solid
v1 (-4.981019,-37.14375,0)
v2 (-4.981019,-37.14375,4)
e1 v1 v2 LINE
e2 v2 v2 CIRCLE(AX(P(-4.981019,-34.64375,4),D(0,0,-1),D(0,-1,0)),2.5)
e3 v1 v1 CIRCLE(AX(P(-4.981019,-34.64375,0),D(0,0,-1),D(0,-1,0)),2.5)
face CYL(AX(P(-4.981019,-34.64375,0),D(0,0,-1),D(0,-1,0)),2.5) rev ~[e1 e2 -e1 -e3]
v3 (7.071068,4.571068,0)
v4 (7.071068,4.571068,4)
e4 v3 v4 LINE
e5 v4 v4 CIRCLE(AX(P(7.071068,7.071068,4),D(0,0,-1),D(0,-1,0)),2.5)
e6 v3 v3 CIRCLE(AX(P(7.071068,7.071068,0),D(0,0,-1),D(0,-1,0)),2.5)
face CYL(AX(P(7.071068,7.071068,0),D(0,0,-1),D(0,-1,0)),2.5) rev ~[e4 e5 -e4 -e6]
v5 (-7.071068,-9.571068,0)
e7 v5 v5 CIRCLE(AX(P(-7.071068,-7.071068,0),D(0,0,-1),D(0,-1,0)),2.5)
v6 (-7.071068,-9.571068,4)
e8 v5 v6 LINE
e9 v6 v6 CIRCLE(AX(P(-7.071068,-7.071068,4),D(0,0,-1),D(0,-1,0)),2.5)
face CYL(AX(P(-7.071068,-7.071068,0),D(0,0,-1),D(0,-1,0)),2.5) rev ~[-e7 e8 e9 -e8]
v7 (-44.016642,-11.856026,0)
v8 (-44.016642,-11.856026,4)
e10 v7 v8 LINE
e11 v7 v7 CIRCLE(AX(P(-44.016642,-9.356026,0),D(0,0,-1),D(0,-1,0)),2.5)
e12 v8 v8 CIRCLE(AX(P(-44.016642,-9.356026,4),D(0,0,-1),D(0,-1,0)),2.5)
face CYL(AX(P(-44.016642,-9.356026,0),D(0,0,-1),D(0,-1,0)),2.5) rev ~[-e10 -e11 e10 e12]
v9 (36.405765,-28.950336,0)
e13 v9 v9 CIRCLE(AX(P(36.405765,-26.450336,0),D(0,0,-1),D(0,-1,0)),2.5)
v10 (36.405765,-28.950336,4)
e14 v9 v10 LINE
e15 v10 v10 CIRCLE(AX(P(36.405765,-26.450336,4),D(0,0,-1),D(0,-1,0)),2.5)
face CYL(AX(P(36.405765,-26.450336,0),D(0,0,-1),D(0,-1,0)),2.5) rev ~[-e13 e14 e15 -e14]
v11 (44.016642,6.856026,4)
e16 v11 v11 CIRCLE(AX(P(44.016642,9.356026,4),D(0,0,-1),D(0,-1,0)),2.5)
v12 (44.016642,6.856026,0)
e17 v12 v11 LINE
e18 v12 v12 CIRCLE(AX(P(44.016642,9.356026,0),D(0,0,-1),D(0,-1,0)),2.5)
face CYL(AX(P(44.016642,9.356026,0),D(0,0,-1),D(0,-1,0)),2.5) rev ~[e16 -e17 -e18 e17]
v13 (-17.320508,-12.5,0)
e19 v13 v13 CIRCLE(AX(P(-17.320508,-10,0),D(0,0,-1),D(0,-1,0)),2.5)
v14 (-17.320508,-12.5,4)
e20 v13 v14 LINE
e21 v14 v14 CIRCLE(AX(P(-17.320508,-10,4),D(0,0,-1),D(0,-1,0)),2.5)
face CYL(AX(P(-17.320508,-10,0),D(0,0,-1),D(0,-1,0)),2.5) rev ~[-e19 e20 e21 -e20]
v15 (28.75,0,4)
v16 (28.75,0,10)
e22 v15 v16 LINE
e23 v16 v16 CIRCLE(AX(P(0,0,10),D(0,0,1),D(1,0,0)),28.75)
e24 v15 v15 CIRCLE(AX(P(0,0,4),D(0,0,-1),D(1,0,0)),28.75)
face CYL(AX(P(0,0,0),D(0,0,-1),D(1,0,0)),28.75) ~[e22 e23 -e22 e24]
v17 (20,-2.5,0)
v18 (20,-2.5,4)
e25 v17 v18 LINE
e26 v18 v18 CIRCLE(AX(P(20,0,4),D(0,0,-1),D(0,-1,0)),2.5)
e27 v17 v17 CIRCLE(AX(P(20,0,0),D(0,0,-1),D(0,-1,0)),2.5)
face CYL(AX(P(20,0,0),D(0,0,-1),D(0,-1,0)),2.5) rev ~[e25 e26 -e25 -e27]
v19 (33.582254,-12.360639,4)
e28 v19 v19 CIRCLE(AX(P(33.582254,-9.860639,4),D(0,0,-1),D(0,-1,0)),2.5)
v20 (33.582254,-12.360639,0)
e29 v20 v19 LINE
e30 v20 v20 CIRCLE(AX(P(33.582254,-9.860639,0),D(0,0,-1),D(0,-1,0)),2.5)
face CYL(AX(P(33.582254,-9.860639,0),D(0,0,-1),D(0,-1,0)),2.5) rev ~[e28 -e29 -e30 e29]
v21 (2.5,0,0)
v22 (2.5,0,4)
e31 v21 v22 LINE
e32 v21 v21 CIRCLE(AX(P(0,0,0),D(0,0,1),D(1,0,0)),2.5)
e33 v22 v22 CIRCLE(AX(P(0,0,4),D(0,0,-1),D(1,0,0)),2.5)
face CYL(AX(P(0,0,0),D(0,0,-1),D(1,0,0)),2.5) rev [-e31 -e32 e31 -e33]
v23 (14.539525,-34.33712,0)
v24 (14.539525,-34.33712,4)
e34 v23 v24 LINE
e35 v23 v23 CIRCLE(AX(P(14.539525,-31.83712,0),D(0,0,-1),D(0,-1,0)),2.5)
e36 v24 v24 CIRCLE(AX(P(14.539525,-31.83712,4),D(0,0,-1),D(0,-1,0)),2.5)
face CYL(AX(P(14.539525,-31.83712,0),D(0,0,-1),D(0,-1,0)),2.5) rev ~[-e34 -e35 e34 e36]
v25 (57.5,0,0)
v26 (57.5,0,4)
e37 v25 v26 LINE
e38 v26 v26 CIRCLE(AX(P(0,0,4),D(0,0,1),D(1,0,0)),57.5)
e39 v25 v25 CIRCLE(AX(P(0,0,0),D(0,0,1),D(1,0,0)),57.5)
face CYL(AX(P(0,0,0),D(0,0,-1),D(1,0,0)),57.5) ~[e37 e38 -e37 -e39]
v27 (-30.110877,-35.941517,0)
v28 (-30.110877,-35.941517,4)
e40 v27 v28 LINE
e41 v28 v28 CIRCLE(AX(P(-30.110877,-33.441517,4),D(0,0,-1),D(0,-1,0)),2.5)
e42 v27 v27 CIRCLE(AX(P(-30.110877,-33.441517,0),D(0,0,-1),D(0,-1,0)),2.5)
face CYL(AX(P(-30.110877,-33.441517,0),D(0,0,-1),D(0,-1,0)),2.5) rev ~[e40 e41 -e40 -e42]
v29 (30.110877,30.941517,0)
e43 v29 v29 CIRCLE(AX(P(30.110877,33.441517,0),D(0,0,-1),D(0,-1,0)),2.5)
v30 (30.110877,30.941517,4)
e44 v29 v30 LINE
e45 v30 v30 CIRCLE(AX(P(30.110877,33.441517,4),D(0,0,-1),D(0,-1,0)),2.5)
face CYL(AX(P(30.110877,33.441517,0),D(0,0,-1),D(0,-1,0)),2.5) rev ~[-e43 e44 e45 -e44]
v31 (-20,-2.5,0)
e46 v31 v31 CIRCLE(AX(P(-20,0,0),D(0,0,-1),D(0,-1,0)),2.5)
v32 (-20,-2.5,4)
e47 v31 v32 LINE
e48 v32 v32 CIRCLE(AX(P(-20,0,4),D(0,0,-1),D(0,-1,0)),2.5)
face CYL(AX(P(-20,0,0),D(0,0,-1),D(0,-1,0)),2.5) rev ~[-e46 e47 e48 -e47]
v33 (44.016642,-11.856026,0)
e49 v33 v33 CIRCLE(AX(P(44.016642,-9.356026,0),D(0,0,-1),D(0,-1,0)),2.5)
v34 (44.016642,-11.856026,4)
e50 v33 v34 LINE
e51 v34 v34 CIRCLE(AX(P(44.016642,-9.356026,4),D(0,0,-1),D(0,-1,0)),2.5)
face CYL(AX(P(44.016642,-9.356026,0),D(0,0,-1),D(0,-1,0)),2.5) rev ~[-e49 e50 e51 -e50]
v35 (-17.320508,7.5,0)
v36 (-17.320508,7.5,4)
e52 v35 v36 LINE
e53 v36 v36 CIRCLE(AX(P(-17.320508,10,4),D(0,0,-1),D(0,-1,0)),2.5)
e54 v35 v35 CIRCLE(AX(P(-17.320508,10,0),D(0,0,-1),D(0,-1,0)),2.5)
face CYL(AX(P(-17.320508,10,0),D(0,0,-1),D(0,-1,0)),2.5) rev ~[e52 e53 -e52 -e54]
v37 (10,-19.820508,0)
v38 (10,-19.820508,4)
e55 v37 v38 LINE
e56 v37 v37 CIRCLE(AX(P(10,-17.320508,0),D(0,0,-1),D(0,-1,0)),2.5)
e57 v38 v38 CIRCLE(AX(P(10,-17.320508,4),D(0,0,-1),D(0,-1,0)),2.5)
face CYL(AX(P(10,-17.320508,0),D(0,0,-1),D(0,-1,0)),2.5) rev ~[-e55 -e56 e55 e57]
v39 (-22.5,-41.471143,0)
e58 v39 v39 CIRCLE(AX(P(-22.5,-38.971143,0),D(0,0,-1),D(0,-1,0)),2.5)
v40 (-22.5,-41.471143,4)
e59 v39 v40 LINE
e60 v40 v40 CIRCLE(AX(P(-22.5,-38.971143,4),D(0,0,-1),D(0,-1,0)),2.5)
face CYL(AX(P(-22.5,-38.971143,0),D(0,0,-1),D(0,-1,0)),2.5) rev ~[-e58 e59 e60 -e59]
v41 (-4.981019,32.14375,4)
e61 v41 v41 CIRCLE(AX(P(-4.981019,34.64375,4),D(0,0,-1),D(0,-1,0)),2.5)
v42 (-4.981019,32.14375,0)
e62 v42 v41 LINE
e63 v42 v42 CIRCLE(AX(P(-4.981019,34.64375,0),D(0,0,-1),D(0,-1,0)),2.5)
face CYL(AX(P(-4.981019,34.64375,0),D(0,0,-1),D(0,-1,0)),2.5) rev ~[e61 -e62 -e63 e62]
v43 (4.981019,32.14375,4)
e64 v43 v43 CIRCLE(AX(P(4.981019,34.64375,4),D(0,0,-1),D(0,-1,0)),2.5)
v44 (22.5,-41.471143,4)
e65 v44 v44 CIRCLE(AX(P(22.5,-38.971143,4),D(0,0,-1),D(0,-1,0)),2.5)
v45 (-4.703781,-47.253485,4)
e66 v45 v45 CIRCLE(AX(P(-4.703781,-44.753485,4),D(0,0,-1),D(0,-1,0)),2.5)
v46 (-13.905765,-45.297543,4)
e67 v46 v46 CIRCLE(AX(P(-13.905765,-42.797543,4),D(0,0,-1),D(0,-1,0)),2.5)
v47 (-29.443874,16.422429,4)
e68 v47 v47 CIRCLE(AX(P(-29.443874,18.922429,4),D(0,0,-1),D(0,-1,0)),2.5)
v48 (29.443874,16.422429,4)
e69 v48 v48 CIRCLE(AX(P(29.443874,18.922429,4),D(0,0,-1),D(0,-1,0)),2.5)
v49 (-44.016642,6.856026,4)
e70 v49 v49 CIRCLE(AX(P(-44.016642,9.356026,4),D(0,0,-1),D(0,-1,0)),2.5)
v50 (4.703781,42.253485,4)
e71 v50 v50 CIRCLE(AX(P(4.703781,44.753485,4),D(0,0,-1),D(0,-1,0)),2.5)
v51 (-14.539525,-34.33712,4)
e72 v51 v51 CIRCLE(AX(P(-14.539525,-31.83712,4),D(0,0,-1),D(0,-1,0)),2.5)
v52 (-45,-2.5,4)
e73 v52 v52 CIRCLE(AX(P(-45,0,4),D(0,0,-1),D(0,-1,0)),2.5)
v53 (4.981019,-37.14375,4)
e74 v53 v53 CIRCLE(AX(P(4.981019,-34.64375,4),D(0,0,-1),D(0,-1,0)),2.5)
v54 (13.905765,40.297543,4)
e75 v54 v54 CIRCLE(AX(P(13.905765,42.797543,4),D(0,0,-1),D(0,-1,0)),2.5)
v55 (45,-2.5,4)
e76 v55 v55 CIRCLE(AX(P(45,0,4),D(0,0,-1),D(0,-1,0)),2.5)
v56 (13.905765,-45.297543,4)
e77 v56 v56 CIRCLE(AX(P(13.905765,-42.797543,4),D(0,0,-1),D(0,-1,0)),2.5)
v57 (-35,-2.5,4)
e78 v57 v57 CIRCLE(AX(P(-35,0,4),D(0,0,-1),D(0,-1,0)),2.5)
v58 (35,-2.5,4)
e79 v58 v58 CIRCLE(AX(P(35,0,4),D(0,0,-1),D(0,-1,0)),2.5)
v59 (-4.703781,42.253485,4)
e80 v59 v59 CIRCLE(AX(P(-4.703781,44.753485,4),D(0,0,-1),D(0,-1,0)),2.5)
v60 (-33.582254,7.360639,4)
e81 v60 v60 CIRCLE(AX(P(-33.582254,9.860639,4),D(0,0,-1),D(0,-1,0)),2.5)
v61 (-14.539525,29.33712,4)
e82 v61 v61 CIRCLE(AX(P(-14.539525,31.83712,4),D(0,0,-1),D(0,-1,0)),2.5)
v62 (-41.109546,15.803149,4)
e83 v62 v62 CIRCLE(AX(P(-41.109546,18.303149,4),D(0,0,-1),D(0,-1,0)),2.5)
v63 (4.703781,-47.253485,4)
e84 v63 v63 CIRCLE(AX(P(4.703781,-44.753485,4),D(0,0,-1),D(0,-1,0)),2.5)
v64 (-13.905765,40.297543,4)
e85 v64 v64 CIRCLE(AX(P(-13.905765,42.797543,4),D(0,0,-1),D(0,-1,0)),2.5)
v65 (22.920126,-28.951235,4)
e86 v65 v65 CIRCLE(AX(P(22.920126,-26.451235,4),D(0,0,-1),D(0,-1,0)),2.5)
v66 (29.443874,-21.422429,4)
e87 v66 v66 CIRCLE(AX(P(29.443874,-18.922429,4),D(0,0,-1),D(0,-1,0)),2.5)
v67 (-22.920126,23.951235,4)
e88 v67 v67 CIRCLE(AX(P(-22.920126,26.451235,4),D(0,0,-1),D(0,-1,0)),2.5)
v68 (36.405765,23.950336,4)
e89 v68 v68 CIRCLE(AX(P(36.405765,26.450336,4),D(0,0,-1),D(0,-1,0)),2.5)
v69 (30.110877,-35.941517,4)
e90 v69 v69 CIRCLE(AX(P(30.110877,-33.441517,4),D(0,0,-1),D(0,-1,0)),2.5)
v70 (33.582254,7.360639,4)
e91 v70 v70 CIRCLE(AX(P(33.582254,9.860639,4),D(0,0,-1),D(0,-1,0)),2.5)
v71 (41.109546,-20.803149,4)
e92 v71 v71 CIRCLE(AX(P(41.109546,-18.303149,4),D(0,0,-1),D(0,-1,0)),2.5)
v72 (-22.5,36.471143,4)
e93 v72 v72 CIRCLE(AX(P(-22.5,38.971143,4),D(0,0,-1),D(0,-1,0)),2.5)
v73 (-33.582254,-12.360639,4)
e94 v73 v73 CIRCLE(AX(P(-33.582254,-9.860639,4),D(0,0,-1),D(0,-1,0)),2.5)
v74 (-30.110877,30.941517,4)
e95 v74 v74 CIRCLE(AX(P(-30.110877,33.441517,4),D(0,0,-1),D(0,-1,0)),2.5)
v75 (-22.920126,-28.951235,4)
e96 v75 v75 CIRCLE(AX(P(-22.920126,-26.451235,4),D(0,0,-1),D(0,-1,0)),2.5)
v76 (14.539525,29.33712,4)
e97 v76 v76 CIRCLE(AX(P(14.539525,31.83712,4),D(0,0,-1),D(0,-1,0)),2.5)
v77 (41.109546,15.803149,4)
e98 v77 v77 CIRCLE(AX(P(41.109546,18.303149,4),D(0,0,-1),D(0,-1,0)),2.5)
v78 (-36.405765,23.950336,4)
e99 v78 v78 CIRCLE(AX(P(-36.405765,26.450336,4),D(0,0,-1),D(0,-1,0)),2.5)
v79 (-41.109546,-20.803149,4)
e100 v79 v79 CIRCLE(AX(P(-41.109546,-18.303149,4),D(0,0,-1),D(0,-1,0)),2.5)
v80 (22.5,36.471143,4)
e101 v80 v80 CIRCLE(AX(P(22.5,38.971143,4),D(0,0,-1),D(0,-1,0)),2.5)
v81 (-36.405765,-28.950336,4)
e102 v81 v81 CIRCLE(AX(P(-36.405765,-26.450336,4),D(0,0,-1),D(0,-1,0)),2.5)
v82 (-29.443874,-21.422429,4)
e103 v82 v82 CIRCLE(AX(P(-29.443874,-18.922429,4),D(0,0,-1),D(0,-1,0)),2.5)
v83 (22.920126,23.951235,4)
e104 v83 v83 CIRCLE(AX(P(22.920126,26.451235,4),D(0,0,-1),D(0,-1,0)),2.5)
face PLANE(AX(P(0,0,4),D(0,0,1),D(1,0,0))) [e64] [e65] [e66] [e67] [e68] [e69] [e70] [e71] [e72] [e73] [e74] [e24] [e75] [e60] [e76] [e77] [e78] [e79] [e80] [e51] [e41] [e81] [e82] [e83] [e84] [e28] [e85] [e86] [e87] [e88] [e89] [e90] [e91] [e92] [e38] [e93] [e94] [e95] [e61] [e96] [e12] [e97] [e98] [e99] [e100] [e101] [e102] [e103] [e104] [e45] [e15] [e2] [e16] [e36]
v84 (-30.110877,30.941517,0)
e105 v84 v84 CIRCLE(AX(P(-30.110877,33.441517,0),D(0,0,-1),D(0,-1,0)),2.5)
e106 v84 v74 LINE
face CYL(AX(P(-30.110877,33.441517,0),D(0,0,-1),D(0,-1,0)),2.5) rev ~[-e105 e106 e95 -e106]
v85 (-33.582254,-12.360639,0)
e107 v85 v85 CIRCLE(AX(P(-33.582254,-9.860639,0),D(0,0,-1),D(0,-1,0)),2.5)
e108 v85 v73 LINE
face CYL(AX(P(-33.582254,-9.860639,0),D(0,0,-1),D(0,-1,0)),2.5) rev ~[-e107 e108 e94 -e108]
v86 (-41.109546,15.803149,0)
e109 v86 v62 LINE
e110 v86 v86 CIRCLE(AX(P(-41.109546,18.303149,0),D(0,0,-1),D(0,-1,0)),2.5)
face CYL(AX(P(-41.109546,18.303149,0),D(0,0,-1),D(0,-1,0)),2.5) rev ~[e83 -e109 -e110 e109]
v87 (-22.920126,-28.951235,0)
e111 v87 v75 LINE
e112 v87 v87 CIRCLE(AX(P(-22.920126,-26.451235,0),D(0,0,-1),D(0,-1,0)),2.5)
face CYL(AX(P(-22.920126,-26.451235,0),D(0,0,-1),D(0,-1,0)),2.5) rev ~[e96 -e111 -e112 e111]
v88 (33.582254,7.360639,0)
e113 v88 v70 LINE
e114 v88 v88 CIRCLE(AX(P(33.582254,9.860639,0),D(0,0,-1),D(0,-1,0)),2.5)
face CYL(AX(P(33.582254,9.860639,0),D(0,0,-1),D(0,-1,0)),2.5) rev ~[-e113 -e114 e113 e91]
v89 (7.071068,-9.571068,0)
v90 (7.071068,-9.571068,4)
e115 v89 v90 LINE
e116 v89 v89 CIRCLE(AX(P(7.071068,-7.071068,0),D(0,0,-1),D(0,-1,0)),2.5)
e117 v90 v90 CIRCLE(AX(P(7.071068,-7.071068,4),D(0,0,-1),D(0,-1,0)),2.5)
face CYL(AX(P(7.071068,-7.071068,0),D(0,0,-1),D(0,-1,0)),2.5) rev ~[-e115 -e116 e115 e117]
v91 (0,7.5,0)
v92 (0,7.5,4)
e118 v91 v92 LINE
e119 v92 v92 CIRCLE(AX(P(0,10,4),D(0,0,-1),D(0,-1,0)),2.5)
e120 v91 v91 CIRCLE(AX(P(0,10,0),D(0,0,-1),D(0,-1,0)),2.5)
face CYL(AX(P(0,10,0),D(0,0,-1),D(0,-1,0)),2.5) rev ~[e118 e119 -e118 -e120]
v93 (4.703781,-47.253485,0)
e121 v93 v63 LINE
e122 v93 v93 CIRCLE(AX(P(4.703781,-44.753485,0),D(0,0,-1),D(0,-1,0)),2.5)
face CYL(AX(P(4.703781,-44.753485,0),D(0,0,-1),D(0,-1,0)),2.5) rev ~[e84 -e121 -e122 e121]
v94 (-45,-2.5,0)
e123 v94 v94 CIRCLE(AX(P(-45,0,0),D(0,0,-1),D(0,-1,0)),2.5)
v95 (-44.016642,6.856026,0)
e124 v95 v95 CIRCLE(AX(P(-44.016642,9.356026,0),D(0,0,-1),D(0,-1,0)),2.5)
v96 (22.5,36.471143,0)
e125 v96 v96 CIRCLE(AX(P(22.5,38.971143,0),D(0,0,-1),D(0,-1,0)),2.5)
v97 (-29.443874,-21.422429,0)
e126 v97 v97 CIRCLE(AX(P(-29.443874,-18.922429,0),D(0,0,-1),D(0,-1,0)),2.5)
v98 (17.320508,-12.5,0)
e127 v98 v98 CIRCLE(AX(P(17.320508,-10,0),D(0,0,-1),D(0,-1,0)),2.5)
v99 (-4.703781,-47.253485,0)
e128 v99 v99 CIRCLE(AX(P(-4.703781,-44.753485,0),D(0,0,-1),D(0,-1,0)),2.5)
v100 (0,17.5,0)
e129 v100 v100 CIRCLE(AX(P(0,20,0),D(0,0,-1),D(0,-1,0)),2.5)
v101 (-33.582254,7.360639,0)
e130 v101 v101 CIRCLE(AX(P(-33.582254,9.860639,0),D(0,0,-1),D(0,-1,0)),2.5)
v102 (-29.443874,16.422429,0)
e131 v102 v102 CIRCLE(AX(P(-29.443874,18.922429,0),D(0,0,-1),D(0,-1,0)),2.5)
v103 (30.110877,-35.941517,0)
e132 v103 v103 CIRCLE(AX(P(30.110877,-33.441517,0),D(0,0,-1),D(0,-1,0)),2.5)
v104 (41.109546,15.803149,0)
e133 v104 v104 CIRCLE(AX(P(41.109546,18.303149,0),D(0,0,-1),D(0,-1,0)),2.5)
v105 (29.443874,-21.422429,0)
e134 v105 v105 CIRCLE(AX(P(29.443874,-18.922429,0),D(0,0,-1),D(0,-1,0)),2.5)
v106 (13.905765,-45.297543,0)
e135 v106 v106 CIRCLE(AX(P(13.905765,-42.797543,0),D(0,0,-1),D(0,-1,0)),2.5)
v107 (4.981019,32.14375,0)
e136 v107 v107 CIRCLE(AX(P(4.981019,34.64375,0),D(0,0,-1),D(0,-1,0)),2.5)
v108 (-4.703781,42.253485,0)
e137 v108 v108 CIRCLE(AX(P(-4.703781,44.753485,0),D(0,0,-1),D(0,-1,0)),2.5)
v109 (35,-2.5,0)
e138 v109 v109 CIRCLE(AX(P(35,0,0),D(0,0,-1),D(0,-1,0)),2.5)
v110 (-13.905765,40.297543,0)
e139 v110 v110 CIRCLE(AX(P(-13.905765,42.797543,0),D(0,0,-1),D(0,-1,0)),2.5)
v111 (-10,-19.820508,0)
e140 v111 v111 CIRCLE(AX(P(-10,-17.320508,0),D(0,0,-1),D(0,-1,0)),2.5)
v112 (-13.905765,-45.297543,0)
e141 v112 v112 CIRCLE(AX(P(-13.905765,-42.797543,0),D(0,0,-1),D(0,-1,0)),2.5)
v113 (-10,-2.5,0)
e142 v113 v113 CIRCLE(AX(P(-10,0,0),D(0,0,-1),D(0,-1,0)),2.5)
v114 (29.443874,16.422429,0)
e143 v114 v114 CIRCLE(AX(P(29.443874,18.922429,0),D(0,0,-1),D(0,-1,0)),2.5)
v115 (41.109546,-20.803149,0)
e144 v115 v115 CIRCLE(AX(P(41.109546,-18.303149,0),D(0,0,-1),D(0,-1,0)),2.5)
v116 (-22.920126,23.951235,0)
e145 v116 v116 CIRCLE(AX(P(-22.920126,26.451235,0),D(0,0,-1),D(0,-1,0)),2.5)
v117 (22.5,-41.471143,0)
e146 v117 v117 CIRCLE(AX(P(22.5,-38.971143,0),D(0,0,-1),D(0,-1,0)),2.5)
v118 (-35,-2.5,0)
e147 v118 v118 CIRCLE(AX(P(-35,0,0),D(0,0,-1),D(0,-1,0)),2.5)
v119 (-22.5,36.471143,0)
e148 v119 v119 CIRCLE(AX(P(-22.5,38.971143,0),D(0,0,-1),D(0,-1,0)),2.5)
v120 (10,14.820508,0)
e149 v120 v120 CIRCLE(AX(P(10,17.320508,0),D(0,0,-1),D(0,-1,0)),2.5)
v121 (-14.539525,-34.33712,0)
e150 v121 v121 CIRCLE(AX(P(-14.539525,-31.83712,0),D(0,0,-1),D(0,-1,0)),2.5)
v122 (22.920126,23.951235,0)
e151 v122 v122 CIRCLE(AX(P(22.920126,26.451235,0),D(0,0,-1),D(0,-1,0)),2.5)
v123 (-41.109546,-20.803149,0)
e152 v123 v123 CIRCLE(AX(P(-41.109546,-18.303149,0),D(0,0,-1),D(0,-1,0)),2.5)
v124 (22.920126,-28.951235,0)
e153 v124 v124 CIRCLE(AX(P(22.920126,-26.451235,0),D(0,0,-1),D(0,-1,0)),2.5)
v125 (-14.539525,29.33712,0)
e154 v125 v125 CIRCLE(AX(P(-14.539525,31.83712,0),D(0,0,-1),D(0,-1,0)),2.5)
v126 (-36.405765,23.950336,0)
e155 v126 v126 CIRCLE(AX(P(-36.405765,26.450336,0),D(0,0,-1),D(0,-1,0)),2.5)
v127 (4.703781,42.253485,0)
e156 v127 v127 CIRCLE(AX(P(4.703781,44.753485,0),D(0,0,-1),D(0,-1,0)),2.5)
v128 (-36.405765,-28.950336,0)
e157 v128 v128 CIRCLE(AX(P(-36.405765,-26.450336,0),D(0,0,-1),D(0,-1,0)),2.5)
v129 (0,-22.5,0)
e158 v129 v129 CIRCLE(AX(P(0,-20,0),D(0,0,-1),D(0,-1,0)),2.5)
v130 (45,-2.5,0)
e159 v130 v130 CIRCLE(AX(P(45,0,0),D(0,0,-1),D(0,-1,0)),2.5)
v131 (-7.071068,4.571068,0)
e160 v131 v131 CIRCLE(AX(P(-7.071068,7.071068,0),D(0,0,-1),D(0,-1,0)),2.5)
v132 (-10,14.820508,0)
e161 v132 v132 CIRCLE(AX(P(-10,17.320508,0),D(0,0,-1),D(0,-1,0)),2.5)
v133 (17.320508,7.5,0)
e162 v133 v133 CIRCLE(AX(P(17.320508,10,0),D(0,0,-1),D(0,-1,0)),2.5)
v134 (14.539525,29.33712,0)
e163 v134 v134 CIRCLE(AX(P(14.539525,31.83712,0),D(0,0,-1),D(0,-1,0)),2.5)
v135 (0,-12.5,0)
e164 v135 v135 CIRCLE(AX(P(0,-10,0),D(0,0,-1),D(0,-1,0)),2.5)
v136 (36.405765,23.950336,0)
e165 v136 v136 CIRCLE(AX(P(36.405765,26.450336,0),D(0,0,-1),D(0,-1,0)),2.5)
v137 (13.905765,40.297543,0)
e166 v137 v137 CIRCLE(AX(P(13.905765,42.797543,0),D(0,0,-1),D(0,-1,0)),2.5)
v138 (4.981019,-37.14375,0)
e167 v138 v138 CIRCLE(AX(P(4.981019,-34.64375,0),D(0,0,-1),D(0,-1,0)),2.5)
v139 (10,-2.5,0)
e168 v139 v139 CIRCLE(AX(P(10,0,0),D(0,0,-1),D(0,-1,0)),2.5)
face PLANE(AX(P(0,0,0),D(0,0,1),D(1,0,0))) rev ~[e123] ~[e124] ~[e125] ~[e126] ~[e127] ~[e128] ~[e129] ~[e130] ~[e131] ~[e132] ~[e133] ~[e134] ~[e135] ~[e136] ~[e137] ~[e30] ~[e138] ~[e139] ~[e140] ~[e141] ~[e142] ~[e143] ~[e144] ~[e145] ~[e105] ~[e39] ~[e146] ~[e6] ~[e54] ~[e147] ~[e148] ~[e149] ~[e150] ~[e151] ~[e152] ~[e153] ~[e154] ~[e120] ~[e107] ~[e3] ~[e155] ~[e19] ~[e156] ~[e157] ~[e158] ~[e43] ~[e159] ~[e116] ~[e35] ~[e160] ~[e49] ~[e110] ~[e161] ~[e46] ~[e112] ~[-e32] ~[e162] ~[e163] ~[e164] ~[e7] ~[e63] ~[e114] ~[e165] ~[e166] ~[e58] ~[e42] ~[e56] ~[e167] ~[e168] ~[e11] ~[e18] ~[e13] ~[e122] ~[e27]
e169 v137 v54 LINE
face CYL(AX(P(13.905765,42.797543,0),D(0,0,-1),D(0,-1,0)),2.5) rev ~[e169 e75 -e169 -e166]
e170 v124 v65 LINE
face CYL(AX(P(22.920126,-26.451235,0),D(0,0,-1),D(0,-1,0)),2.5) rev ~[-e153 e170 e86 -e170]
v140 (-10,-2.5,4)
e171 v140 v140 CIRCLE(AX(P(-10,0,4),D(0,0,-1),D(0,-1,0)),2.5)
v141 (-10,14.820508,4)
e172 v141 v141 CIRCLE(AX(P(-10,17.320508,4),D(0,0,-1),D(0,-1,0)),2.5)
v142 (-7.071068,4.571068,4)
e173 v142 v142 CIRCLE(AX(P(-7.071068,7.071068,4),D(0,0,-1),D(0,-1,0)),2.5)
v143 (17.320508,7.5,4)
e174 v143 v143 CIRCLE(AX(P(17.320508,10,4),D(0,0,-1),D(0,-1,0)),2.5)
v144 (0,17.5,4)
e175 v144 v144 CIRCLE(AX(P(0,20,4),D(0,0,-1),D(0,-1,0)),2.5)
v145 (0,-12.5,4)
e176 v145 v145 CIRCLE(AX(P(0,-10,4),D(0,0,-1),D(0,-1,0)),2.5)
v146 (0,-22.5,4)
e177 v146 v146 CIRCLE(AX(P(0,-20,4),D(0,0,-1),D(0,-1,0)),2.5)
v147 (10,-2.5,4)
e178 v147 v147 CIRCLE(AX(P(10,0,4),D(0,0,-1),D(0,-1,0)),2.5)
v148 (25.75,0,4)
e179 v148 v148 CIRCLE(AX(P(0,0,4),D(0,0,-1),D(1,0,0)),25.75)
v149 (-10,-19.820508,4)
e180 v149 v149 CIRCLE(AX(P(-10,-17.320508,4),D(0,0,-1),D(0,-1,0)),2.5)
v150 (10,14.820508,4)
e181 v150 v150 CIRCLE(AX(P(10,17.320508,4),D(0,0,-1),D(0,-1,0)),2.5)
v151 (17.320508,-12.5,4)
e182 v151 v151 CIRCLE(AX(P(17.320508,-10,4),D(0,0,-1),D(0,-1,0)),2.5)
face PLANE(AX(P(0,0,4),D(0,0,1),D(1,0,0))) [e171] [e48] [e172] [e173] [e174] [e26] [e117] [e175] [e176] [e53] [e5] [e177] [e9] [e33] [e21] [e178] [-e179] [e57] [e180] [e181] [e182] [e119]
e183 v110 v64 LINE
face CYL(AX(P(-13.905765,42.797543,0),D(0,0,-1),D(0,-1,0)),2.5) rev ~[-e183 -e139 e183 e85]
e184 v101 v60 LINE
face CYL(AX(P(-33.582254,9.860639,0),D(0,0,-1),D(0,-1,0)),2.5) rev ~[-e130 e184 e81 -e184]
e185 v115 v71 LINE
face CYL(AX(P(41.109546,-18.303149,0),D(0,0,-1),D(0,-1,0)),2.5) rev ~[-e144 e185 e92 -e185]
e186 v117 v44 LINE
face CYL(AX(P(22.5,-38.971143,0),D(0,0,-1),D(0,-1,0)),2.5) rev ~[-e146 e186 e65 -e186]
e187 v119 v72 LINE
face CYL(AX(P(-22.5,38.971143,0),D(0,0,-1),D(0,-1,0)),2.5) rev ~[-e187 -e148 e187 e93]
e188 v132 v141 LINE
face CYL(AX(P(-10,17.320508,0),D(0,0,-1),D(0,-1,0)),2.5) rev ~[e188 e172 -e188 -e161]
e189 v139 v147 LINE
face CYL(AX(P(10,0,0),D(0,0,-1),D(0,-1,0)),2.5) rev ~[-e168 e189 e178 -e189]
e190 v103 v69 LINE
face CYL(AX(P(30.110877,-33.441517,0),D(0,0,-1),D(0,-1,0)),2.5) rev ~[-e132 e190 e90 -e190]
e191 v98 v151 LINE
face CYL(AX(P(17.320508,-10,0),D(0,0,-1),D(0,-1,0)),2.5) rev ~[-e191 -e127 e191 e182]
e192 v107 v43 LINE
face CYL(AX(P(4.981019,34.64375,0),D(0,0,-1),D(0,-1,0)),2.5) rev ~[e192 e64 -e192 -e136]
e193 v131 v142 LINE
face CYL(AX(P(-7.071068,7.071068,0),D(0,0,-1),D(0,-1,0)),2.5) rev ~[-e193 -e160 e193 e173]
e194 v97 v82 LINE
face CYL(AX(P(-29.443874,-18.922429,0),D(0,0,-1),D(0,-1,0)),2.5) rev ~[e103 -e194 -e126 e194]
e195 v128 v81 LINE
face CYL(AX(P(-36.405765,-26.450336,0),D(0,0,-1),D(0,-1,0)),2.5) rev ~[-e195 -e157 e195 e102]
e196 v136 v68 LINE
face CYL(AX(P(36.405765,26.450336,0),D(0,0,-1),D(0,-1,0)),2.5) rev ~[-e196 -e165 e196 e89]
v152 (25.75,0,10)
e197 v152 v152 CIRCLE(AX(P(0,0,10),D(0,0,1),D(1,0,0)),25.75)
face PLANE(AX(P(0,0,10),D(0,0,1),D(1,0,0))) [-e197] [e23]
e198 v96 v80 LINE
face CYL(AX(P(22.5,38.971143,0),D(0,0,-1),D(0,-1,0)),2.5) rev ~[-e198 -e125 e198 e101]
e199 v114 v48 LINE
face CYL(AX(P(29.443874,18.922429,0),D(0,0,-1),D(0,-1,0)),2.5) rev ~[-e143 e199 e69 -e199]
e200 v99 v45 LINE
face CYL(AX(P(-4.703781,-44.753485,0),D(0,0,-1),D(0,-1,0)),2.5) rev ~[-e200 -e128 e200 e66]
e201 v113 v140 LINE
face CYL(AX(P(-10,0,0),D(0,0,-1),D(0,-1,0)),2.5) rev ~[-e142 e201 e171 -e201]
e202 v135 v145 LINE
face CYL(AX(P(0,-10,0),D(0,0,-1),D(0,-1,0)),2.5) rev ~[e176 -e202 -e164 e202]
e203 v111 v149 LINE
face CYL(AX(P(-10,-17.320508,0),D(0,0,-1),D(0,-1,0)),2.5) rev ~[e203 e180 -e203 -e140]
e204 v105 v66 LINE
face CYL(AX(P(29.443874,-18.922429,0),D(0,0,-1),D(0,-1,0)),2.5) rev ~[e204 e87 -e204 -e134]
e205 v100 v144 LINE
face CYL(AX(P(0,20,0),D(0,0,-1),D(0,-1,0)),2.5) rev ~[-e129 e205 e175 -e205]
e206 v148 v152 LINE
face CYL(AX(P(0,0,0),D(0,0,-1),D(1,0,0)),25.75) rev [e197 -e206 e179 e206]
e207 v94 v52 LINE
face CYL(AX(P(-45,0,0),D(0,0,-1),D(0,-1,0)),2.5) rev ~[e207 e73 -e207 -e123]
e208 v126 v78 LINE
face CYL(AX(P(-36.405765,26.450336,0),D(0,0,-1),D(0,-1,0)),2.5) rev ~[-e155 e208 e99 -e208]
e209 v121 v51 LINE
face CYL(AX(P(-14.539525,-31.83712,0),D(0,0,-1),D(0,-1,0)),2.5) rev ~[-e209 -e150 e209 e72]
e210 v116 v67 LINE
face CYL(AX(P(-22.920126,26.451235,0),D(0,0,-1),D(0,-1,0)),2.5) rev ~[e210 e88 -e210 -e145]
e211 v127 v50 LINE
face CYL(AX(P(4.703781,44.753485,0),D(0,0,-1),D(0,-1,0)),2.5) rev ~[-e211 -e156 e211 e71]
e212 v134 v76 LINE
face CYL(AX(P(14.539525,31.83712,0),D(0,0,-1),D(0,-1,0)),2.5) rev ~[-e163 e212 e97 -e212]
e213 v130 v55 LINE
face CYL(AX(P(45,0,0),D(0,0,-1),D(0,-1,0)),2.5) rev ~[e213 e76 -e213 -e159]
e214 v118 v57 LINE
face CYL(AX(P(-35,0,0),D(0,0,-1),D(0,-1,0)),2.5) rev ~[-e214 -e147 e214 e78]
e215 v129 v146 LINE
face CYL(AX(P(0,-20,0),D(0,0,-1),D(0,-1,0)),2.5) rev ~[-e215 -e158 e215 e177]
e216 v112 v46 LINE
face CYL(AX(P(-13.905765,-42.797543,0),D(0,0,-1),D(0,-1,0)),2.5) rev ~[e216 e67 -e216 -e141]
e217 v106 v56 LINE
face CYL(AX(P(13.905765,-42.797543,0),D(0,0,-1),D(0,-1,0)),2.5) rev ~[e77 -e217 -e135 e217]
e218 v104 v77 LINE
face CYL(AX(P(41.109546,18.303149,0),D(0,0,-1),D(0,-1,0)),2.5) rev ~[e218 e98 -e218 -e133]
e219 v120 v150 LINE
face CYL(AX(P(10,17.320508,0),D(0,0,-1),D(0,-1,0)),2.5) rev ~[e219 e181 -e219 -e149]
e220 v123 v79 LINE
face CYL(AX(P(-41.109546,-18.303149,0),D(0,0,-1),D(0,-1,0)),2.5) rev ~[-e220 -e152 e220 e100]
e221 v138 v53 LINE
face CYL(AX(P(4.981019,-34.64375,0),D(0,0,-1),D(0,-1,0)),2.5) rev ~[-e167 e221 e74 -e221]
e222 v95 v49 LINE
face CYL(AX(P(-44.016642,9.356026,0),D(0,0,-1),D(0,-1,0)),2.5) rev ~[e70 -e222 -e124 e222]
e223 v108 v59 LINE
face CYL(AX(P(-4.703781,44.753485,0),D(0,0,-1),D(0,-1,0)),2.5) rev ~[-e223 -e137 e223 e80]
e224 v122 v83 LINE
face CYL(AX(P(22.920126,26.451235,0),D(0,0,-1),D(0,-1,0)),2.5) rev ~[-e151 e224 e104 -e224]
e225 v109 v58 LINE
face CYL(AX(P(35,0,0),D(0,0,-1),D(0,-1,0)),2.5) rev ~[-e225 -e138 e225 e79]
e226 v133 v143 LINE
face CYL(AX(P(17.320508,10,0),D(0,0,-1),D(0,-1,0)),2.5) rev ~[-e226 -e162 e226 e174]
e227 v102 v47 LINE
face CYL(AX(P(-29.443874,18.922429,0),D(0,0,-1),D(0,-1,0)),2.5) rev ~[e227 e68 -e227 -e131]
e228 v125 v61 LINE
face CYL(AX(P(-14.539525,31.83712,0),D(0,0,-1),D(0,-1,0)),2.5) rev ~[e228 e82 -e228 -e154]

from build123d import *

# Parameters (mm, degrees)
CIRCLE_R         = 2.5
EXTRUDE_DEPTH    = 100
ARRAY_R          = 2.5
EXTRUDE001_DEPTH = 100
ARRAY001_R       = 2.5
EXTRUDE002_DEPTH = 100
ARRAY002_R       = 2.5
EXTRUDE003_DEPTH = 100
ARRAY003_R       = 2.5
EXTRUDE004_DEPTH = 100
SKETCH_R         = 57.5
PAD_DEPTH        = 4
SKETCH001_R      = 28.75
SKETCH001_R_2    = 25.75
PAD001_DEPTH     = 10


with BuildPart() as extrude_body:
    # Circle → Extrude (new body)
    with BuildSketch(Plane.XY):
        Circle(CIRCLE_R)
    extrude(amount=EXTRUDE_DEPTH)


with BuildPart() as extrude001:
    # Array → Extrude001 (new body)
    with BuildSketch(Plane(origin=(10, 0, 0), x_dir=(0, -1, 0), z_dir=(0, 0, -1))):
        Circle(ARRAY_R)
        with Locations((-7.071068, 2.928932)):
            Circle(ARRAY_R)
        with Locations((-10, 10)):
            Circle(ARRAY_R)
        with Locations((-7.071068, 17.071068)):
            Circle(ARRAY_R)
        with Locations((0, 20)):
            Circle(ARRAY_R)
        with Locations((7.071068, 17.071068)):
            Circle(ARRAY_R)
        with Locations((10, 10)):
            Circle(ARRAY_R)
        with Locations((7.071068, 2.928932)):
            Circle(ARRAY_R)
    extrude(amount=-EXTRUDE001_DEPTH)


with BuildPart() as extrude002:
    # Array001 → Extrude002 (new body)
    with BuildSketch(Plane(origin=(20, 0, 0), x_dir=(0, -1, 0), z_dir=(0, 0, -1))):
        Circle(ARRAY001_R)
        with Locations((-10, 2.679492)):
            Circle(ARRAY001_R)
        with Locations((-17.320508, 10)):
            Circle(ARRAY001_R)
        with Locations((-20, 20)):
            Circle(ARRAY001_R)
        with Locations((-17.320508, 30)):
            Circle(ARRAY001_R)
        with Locations((-10, 37.320508)):
            Circle(ARRAY001_R)
        with Locations((0, 40)):
            Circle(ARRAY001_R)
        with Locations((10, 37.320508)):
            Circle(ARRAY001_R)
        with Locations((17.320508, 30)):
            Circle(ARRAY001_R)
        with Locations((20, 20)):
            Circle(ARRAY001_R)
        with Locations((17.320508, 10)):
            Circle(ARRAY001_R)
        with Locations((10, 2.679492)):
            Circle(ARRAY001_R)
    extrude(amount=-EXTRUDE002_DEPTH)


with BuildPart() as extrude003:
    # Array002 → Extrude003 (new body)
    with BuildSketch(Plane(origin=(35, 0, 0), x_dir=(0, -1, 0), z_dir=(0, 0, -1))):
        Circle(ARRAY002_R)
        with Locations((-9.860639, 1.417746)):
            Circle(ARRAY002_R)
        with Locations((-18.922429, 5.556126)):
            Circle(ARRAY002_R)
        with Locations((-26.451235, 12.079874)):
            Circle(ARRAY002_R)
        with Locations((-31.83712, 20.460475)):
            Circle(ARRAY002_R)
        with Locations((-34.64375, 30.018981)):
            Circle(ARRAY002_R)
        with Locations((-34.64375, 39.981019)):
            Circle(ARRAY002_R)
        with Locations((-31.83712, 49.539525)):
            Circle(ARRAY002_R)
        with Locations((-26.451235, 57.920126)):
            Circle(ARRAY002_R)
        with Locations((-18.922429, 64.443874)):
            Circle(ARRAY002_R)
        with Locations((-9.860639, 68.582254)):
            Circle(ARRAY002_R)
        with Locations((0, 70)):
            Circle(ARRAY002_R)
        with Locations((9.860639, 68.582254)):
            Circle(ARRAY002_R)
        with Locations((18.922429, 64.443874)):
            Circle(ARRAY002_R)
        with Locations((26.451235, 57.920126)):
            Circle(ARRAY002_R)
        with Locations((31.83712, 49.539525)):
            Circle(ARRAY002_R)
        with Locations((34.64375, 39.981019)):
            Circle(ARRAY002_R)
        with Locations((34.64375, 30.018981)):
            Circle(ARRAY002_R)
        with Locations((31.83712, 20.460475)):
            Circle(ARRAY002_R)
        with Locations((26.451235, 12.079874)):
            Circle(ARRAY002_R)
        with Locations((18.922429, 5.556126)):
            Circle(ARRAY002_R)
        with Locations((9.860639, 1.417746)):
            Circle(ARRAY002_R)
    extrude(amount=-EXTRUDE003_DEPTH)


with BuildPart() as extrude004:
    # Array003 → Extrude004 (new body)
    with BuildSketch(Plane(origin=(45, 0, 0), x_dir=(0, -1, 0), z_dir=(0, 0, -1))):
        Circle(ARRAY003_R)
        with Locations((-9.356026, 0.983358)):
            Circle(ARRAY003_R)
        with Locations((-18.303149, 3.890454)):
            Circle(ARRAY003_R)
        with Locations((-26.450336, 8.594235)):
            Circle(ARRAY003_R)
        with Locations((-33.441517, 14.889123)):
            Circle(ARRAY003_R)
        with Locations((-38.971143, 22.5)):
            Circle(ARRAY003_R)
        with Locations((-42.797543, 31.094235)):
            Circle(ARRAY003_R)
        with Locations((-44.753485, 40.296219)):
            Circle(ARRAY003_R)
        with Locations((-44.753485, 49.703781)):
            Circle(ARRAY003_R)
        with Locations((-42.797543, 58.905765)):
            Circle(ARRAY003_R)
        with Locations((-38.971143, 67.5)):
            Circle(ARRAY003_R)
        with Locations((-33.441517, 75.110877)):
            Circle(ARRAY003_R)
        with Locations((-26.450336, 81.405765)):
            Circle(ARRAY003_R)
        with Locations((-18.303149, 86.109546)):
            Circle(ARRAY003_R)
        with Locations((-9.356026, 89.016642)):
            Circle(ARRAY003_R)
        with Locations((0, 90)):
            Circle(ARRAY003_R)
        with Locations((9.356026, 89.016642)):
            Circle(ARRAY003_R)
        with Locations((18.303149, 86.109546)):
            Circle(ARRAY003_R)
        with Locations((26.450336, 81.405765)):
            Circle(ARRAY003_R)
        with Locations((33.441517, 75.110877)):
            Circle(ARRAY003_R)
        with Locations((38.971143, 67.5)):
            Circle(ARRAY003_R)
        with Locations((42.797543, 58.905765)):
            Circle(ARRAY003_R)
        with Locations((44.753485, 49.703781)):
            Circle(ARRAY003_R)
        with Locations((44.753485, 40.296219)):
            Circle(ARRAY003_R)
        with Locations((42.797543, 31.094235)):
            Circle(ARRAY003_R)
        with Locations((38.971143, 22.5)):
            Circle(ARRAY003_R)
        with Locations((33.441517, 14.889123)):
            Circle(ARRAY003_R)
        with Locations((26.450336, 8.594235)):
            Circle(ARRAY003_R)
        with Locations((18.303149, 3.890454)):
            Circle(ARRAY003_R)
        with Locations((9.356026, 0.983358)):
            Circle(ARRAY003_R)
    extrude(amount=-EXTRUDE004_DEPTH)


with BuildPart() as cut004:
    # Sketch → Pad (new body)
    with BuildSketch(Plane.XY):
        Circle(SKETCH_R)
    extrude(amount=PAD_DEPTH)

    # Cut: cut Extrude004
    add(extrude004.part, mode=Mode.SUBTRACT)

    # Cut001: cut Extrude003
    add(extrude003.part, mode=Mode.SUBTRACT)

    # Cut002: cut Extrude002
    add(extrude002.part, mode=Mode.SUBTRACT)

    # Cut003: cut Extrude001
    add(extrude001.part, mode=Mode.SUBTRACT)

    # Cut004: cut Extrude body
    add(extrude_body.part, mode=Mode.SUBTRACT)


with BuildPart() as fusion:
    # Sketch001 → Pad001 (new body)
    with BuildSketch(Plane.XY):
        Circle(SKETCH001_R)
        Circle(SKETCH001_R_2, mode=Mode.SUBTRACT)
    extrude(amount=PAD001_DEPTH)

    # Fusion: union Cut004
    add(cut004.part)


solid = fusion.part
